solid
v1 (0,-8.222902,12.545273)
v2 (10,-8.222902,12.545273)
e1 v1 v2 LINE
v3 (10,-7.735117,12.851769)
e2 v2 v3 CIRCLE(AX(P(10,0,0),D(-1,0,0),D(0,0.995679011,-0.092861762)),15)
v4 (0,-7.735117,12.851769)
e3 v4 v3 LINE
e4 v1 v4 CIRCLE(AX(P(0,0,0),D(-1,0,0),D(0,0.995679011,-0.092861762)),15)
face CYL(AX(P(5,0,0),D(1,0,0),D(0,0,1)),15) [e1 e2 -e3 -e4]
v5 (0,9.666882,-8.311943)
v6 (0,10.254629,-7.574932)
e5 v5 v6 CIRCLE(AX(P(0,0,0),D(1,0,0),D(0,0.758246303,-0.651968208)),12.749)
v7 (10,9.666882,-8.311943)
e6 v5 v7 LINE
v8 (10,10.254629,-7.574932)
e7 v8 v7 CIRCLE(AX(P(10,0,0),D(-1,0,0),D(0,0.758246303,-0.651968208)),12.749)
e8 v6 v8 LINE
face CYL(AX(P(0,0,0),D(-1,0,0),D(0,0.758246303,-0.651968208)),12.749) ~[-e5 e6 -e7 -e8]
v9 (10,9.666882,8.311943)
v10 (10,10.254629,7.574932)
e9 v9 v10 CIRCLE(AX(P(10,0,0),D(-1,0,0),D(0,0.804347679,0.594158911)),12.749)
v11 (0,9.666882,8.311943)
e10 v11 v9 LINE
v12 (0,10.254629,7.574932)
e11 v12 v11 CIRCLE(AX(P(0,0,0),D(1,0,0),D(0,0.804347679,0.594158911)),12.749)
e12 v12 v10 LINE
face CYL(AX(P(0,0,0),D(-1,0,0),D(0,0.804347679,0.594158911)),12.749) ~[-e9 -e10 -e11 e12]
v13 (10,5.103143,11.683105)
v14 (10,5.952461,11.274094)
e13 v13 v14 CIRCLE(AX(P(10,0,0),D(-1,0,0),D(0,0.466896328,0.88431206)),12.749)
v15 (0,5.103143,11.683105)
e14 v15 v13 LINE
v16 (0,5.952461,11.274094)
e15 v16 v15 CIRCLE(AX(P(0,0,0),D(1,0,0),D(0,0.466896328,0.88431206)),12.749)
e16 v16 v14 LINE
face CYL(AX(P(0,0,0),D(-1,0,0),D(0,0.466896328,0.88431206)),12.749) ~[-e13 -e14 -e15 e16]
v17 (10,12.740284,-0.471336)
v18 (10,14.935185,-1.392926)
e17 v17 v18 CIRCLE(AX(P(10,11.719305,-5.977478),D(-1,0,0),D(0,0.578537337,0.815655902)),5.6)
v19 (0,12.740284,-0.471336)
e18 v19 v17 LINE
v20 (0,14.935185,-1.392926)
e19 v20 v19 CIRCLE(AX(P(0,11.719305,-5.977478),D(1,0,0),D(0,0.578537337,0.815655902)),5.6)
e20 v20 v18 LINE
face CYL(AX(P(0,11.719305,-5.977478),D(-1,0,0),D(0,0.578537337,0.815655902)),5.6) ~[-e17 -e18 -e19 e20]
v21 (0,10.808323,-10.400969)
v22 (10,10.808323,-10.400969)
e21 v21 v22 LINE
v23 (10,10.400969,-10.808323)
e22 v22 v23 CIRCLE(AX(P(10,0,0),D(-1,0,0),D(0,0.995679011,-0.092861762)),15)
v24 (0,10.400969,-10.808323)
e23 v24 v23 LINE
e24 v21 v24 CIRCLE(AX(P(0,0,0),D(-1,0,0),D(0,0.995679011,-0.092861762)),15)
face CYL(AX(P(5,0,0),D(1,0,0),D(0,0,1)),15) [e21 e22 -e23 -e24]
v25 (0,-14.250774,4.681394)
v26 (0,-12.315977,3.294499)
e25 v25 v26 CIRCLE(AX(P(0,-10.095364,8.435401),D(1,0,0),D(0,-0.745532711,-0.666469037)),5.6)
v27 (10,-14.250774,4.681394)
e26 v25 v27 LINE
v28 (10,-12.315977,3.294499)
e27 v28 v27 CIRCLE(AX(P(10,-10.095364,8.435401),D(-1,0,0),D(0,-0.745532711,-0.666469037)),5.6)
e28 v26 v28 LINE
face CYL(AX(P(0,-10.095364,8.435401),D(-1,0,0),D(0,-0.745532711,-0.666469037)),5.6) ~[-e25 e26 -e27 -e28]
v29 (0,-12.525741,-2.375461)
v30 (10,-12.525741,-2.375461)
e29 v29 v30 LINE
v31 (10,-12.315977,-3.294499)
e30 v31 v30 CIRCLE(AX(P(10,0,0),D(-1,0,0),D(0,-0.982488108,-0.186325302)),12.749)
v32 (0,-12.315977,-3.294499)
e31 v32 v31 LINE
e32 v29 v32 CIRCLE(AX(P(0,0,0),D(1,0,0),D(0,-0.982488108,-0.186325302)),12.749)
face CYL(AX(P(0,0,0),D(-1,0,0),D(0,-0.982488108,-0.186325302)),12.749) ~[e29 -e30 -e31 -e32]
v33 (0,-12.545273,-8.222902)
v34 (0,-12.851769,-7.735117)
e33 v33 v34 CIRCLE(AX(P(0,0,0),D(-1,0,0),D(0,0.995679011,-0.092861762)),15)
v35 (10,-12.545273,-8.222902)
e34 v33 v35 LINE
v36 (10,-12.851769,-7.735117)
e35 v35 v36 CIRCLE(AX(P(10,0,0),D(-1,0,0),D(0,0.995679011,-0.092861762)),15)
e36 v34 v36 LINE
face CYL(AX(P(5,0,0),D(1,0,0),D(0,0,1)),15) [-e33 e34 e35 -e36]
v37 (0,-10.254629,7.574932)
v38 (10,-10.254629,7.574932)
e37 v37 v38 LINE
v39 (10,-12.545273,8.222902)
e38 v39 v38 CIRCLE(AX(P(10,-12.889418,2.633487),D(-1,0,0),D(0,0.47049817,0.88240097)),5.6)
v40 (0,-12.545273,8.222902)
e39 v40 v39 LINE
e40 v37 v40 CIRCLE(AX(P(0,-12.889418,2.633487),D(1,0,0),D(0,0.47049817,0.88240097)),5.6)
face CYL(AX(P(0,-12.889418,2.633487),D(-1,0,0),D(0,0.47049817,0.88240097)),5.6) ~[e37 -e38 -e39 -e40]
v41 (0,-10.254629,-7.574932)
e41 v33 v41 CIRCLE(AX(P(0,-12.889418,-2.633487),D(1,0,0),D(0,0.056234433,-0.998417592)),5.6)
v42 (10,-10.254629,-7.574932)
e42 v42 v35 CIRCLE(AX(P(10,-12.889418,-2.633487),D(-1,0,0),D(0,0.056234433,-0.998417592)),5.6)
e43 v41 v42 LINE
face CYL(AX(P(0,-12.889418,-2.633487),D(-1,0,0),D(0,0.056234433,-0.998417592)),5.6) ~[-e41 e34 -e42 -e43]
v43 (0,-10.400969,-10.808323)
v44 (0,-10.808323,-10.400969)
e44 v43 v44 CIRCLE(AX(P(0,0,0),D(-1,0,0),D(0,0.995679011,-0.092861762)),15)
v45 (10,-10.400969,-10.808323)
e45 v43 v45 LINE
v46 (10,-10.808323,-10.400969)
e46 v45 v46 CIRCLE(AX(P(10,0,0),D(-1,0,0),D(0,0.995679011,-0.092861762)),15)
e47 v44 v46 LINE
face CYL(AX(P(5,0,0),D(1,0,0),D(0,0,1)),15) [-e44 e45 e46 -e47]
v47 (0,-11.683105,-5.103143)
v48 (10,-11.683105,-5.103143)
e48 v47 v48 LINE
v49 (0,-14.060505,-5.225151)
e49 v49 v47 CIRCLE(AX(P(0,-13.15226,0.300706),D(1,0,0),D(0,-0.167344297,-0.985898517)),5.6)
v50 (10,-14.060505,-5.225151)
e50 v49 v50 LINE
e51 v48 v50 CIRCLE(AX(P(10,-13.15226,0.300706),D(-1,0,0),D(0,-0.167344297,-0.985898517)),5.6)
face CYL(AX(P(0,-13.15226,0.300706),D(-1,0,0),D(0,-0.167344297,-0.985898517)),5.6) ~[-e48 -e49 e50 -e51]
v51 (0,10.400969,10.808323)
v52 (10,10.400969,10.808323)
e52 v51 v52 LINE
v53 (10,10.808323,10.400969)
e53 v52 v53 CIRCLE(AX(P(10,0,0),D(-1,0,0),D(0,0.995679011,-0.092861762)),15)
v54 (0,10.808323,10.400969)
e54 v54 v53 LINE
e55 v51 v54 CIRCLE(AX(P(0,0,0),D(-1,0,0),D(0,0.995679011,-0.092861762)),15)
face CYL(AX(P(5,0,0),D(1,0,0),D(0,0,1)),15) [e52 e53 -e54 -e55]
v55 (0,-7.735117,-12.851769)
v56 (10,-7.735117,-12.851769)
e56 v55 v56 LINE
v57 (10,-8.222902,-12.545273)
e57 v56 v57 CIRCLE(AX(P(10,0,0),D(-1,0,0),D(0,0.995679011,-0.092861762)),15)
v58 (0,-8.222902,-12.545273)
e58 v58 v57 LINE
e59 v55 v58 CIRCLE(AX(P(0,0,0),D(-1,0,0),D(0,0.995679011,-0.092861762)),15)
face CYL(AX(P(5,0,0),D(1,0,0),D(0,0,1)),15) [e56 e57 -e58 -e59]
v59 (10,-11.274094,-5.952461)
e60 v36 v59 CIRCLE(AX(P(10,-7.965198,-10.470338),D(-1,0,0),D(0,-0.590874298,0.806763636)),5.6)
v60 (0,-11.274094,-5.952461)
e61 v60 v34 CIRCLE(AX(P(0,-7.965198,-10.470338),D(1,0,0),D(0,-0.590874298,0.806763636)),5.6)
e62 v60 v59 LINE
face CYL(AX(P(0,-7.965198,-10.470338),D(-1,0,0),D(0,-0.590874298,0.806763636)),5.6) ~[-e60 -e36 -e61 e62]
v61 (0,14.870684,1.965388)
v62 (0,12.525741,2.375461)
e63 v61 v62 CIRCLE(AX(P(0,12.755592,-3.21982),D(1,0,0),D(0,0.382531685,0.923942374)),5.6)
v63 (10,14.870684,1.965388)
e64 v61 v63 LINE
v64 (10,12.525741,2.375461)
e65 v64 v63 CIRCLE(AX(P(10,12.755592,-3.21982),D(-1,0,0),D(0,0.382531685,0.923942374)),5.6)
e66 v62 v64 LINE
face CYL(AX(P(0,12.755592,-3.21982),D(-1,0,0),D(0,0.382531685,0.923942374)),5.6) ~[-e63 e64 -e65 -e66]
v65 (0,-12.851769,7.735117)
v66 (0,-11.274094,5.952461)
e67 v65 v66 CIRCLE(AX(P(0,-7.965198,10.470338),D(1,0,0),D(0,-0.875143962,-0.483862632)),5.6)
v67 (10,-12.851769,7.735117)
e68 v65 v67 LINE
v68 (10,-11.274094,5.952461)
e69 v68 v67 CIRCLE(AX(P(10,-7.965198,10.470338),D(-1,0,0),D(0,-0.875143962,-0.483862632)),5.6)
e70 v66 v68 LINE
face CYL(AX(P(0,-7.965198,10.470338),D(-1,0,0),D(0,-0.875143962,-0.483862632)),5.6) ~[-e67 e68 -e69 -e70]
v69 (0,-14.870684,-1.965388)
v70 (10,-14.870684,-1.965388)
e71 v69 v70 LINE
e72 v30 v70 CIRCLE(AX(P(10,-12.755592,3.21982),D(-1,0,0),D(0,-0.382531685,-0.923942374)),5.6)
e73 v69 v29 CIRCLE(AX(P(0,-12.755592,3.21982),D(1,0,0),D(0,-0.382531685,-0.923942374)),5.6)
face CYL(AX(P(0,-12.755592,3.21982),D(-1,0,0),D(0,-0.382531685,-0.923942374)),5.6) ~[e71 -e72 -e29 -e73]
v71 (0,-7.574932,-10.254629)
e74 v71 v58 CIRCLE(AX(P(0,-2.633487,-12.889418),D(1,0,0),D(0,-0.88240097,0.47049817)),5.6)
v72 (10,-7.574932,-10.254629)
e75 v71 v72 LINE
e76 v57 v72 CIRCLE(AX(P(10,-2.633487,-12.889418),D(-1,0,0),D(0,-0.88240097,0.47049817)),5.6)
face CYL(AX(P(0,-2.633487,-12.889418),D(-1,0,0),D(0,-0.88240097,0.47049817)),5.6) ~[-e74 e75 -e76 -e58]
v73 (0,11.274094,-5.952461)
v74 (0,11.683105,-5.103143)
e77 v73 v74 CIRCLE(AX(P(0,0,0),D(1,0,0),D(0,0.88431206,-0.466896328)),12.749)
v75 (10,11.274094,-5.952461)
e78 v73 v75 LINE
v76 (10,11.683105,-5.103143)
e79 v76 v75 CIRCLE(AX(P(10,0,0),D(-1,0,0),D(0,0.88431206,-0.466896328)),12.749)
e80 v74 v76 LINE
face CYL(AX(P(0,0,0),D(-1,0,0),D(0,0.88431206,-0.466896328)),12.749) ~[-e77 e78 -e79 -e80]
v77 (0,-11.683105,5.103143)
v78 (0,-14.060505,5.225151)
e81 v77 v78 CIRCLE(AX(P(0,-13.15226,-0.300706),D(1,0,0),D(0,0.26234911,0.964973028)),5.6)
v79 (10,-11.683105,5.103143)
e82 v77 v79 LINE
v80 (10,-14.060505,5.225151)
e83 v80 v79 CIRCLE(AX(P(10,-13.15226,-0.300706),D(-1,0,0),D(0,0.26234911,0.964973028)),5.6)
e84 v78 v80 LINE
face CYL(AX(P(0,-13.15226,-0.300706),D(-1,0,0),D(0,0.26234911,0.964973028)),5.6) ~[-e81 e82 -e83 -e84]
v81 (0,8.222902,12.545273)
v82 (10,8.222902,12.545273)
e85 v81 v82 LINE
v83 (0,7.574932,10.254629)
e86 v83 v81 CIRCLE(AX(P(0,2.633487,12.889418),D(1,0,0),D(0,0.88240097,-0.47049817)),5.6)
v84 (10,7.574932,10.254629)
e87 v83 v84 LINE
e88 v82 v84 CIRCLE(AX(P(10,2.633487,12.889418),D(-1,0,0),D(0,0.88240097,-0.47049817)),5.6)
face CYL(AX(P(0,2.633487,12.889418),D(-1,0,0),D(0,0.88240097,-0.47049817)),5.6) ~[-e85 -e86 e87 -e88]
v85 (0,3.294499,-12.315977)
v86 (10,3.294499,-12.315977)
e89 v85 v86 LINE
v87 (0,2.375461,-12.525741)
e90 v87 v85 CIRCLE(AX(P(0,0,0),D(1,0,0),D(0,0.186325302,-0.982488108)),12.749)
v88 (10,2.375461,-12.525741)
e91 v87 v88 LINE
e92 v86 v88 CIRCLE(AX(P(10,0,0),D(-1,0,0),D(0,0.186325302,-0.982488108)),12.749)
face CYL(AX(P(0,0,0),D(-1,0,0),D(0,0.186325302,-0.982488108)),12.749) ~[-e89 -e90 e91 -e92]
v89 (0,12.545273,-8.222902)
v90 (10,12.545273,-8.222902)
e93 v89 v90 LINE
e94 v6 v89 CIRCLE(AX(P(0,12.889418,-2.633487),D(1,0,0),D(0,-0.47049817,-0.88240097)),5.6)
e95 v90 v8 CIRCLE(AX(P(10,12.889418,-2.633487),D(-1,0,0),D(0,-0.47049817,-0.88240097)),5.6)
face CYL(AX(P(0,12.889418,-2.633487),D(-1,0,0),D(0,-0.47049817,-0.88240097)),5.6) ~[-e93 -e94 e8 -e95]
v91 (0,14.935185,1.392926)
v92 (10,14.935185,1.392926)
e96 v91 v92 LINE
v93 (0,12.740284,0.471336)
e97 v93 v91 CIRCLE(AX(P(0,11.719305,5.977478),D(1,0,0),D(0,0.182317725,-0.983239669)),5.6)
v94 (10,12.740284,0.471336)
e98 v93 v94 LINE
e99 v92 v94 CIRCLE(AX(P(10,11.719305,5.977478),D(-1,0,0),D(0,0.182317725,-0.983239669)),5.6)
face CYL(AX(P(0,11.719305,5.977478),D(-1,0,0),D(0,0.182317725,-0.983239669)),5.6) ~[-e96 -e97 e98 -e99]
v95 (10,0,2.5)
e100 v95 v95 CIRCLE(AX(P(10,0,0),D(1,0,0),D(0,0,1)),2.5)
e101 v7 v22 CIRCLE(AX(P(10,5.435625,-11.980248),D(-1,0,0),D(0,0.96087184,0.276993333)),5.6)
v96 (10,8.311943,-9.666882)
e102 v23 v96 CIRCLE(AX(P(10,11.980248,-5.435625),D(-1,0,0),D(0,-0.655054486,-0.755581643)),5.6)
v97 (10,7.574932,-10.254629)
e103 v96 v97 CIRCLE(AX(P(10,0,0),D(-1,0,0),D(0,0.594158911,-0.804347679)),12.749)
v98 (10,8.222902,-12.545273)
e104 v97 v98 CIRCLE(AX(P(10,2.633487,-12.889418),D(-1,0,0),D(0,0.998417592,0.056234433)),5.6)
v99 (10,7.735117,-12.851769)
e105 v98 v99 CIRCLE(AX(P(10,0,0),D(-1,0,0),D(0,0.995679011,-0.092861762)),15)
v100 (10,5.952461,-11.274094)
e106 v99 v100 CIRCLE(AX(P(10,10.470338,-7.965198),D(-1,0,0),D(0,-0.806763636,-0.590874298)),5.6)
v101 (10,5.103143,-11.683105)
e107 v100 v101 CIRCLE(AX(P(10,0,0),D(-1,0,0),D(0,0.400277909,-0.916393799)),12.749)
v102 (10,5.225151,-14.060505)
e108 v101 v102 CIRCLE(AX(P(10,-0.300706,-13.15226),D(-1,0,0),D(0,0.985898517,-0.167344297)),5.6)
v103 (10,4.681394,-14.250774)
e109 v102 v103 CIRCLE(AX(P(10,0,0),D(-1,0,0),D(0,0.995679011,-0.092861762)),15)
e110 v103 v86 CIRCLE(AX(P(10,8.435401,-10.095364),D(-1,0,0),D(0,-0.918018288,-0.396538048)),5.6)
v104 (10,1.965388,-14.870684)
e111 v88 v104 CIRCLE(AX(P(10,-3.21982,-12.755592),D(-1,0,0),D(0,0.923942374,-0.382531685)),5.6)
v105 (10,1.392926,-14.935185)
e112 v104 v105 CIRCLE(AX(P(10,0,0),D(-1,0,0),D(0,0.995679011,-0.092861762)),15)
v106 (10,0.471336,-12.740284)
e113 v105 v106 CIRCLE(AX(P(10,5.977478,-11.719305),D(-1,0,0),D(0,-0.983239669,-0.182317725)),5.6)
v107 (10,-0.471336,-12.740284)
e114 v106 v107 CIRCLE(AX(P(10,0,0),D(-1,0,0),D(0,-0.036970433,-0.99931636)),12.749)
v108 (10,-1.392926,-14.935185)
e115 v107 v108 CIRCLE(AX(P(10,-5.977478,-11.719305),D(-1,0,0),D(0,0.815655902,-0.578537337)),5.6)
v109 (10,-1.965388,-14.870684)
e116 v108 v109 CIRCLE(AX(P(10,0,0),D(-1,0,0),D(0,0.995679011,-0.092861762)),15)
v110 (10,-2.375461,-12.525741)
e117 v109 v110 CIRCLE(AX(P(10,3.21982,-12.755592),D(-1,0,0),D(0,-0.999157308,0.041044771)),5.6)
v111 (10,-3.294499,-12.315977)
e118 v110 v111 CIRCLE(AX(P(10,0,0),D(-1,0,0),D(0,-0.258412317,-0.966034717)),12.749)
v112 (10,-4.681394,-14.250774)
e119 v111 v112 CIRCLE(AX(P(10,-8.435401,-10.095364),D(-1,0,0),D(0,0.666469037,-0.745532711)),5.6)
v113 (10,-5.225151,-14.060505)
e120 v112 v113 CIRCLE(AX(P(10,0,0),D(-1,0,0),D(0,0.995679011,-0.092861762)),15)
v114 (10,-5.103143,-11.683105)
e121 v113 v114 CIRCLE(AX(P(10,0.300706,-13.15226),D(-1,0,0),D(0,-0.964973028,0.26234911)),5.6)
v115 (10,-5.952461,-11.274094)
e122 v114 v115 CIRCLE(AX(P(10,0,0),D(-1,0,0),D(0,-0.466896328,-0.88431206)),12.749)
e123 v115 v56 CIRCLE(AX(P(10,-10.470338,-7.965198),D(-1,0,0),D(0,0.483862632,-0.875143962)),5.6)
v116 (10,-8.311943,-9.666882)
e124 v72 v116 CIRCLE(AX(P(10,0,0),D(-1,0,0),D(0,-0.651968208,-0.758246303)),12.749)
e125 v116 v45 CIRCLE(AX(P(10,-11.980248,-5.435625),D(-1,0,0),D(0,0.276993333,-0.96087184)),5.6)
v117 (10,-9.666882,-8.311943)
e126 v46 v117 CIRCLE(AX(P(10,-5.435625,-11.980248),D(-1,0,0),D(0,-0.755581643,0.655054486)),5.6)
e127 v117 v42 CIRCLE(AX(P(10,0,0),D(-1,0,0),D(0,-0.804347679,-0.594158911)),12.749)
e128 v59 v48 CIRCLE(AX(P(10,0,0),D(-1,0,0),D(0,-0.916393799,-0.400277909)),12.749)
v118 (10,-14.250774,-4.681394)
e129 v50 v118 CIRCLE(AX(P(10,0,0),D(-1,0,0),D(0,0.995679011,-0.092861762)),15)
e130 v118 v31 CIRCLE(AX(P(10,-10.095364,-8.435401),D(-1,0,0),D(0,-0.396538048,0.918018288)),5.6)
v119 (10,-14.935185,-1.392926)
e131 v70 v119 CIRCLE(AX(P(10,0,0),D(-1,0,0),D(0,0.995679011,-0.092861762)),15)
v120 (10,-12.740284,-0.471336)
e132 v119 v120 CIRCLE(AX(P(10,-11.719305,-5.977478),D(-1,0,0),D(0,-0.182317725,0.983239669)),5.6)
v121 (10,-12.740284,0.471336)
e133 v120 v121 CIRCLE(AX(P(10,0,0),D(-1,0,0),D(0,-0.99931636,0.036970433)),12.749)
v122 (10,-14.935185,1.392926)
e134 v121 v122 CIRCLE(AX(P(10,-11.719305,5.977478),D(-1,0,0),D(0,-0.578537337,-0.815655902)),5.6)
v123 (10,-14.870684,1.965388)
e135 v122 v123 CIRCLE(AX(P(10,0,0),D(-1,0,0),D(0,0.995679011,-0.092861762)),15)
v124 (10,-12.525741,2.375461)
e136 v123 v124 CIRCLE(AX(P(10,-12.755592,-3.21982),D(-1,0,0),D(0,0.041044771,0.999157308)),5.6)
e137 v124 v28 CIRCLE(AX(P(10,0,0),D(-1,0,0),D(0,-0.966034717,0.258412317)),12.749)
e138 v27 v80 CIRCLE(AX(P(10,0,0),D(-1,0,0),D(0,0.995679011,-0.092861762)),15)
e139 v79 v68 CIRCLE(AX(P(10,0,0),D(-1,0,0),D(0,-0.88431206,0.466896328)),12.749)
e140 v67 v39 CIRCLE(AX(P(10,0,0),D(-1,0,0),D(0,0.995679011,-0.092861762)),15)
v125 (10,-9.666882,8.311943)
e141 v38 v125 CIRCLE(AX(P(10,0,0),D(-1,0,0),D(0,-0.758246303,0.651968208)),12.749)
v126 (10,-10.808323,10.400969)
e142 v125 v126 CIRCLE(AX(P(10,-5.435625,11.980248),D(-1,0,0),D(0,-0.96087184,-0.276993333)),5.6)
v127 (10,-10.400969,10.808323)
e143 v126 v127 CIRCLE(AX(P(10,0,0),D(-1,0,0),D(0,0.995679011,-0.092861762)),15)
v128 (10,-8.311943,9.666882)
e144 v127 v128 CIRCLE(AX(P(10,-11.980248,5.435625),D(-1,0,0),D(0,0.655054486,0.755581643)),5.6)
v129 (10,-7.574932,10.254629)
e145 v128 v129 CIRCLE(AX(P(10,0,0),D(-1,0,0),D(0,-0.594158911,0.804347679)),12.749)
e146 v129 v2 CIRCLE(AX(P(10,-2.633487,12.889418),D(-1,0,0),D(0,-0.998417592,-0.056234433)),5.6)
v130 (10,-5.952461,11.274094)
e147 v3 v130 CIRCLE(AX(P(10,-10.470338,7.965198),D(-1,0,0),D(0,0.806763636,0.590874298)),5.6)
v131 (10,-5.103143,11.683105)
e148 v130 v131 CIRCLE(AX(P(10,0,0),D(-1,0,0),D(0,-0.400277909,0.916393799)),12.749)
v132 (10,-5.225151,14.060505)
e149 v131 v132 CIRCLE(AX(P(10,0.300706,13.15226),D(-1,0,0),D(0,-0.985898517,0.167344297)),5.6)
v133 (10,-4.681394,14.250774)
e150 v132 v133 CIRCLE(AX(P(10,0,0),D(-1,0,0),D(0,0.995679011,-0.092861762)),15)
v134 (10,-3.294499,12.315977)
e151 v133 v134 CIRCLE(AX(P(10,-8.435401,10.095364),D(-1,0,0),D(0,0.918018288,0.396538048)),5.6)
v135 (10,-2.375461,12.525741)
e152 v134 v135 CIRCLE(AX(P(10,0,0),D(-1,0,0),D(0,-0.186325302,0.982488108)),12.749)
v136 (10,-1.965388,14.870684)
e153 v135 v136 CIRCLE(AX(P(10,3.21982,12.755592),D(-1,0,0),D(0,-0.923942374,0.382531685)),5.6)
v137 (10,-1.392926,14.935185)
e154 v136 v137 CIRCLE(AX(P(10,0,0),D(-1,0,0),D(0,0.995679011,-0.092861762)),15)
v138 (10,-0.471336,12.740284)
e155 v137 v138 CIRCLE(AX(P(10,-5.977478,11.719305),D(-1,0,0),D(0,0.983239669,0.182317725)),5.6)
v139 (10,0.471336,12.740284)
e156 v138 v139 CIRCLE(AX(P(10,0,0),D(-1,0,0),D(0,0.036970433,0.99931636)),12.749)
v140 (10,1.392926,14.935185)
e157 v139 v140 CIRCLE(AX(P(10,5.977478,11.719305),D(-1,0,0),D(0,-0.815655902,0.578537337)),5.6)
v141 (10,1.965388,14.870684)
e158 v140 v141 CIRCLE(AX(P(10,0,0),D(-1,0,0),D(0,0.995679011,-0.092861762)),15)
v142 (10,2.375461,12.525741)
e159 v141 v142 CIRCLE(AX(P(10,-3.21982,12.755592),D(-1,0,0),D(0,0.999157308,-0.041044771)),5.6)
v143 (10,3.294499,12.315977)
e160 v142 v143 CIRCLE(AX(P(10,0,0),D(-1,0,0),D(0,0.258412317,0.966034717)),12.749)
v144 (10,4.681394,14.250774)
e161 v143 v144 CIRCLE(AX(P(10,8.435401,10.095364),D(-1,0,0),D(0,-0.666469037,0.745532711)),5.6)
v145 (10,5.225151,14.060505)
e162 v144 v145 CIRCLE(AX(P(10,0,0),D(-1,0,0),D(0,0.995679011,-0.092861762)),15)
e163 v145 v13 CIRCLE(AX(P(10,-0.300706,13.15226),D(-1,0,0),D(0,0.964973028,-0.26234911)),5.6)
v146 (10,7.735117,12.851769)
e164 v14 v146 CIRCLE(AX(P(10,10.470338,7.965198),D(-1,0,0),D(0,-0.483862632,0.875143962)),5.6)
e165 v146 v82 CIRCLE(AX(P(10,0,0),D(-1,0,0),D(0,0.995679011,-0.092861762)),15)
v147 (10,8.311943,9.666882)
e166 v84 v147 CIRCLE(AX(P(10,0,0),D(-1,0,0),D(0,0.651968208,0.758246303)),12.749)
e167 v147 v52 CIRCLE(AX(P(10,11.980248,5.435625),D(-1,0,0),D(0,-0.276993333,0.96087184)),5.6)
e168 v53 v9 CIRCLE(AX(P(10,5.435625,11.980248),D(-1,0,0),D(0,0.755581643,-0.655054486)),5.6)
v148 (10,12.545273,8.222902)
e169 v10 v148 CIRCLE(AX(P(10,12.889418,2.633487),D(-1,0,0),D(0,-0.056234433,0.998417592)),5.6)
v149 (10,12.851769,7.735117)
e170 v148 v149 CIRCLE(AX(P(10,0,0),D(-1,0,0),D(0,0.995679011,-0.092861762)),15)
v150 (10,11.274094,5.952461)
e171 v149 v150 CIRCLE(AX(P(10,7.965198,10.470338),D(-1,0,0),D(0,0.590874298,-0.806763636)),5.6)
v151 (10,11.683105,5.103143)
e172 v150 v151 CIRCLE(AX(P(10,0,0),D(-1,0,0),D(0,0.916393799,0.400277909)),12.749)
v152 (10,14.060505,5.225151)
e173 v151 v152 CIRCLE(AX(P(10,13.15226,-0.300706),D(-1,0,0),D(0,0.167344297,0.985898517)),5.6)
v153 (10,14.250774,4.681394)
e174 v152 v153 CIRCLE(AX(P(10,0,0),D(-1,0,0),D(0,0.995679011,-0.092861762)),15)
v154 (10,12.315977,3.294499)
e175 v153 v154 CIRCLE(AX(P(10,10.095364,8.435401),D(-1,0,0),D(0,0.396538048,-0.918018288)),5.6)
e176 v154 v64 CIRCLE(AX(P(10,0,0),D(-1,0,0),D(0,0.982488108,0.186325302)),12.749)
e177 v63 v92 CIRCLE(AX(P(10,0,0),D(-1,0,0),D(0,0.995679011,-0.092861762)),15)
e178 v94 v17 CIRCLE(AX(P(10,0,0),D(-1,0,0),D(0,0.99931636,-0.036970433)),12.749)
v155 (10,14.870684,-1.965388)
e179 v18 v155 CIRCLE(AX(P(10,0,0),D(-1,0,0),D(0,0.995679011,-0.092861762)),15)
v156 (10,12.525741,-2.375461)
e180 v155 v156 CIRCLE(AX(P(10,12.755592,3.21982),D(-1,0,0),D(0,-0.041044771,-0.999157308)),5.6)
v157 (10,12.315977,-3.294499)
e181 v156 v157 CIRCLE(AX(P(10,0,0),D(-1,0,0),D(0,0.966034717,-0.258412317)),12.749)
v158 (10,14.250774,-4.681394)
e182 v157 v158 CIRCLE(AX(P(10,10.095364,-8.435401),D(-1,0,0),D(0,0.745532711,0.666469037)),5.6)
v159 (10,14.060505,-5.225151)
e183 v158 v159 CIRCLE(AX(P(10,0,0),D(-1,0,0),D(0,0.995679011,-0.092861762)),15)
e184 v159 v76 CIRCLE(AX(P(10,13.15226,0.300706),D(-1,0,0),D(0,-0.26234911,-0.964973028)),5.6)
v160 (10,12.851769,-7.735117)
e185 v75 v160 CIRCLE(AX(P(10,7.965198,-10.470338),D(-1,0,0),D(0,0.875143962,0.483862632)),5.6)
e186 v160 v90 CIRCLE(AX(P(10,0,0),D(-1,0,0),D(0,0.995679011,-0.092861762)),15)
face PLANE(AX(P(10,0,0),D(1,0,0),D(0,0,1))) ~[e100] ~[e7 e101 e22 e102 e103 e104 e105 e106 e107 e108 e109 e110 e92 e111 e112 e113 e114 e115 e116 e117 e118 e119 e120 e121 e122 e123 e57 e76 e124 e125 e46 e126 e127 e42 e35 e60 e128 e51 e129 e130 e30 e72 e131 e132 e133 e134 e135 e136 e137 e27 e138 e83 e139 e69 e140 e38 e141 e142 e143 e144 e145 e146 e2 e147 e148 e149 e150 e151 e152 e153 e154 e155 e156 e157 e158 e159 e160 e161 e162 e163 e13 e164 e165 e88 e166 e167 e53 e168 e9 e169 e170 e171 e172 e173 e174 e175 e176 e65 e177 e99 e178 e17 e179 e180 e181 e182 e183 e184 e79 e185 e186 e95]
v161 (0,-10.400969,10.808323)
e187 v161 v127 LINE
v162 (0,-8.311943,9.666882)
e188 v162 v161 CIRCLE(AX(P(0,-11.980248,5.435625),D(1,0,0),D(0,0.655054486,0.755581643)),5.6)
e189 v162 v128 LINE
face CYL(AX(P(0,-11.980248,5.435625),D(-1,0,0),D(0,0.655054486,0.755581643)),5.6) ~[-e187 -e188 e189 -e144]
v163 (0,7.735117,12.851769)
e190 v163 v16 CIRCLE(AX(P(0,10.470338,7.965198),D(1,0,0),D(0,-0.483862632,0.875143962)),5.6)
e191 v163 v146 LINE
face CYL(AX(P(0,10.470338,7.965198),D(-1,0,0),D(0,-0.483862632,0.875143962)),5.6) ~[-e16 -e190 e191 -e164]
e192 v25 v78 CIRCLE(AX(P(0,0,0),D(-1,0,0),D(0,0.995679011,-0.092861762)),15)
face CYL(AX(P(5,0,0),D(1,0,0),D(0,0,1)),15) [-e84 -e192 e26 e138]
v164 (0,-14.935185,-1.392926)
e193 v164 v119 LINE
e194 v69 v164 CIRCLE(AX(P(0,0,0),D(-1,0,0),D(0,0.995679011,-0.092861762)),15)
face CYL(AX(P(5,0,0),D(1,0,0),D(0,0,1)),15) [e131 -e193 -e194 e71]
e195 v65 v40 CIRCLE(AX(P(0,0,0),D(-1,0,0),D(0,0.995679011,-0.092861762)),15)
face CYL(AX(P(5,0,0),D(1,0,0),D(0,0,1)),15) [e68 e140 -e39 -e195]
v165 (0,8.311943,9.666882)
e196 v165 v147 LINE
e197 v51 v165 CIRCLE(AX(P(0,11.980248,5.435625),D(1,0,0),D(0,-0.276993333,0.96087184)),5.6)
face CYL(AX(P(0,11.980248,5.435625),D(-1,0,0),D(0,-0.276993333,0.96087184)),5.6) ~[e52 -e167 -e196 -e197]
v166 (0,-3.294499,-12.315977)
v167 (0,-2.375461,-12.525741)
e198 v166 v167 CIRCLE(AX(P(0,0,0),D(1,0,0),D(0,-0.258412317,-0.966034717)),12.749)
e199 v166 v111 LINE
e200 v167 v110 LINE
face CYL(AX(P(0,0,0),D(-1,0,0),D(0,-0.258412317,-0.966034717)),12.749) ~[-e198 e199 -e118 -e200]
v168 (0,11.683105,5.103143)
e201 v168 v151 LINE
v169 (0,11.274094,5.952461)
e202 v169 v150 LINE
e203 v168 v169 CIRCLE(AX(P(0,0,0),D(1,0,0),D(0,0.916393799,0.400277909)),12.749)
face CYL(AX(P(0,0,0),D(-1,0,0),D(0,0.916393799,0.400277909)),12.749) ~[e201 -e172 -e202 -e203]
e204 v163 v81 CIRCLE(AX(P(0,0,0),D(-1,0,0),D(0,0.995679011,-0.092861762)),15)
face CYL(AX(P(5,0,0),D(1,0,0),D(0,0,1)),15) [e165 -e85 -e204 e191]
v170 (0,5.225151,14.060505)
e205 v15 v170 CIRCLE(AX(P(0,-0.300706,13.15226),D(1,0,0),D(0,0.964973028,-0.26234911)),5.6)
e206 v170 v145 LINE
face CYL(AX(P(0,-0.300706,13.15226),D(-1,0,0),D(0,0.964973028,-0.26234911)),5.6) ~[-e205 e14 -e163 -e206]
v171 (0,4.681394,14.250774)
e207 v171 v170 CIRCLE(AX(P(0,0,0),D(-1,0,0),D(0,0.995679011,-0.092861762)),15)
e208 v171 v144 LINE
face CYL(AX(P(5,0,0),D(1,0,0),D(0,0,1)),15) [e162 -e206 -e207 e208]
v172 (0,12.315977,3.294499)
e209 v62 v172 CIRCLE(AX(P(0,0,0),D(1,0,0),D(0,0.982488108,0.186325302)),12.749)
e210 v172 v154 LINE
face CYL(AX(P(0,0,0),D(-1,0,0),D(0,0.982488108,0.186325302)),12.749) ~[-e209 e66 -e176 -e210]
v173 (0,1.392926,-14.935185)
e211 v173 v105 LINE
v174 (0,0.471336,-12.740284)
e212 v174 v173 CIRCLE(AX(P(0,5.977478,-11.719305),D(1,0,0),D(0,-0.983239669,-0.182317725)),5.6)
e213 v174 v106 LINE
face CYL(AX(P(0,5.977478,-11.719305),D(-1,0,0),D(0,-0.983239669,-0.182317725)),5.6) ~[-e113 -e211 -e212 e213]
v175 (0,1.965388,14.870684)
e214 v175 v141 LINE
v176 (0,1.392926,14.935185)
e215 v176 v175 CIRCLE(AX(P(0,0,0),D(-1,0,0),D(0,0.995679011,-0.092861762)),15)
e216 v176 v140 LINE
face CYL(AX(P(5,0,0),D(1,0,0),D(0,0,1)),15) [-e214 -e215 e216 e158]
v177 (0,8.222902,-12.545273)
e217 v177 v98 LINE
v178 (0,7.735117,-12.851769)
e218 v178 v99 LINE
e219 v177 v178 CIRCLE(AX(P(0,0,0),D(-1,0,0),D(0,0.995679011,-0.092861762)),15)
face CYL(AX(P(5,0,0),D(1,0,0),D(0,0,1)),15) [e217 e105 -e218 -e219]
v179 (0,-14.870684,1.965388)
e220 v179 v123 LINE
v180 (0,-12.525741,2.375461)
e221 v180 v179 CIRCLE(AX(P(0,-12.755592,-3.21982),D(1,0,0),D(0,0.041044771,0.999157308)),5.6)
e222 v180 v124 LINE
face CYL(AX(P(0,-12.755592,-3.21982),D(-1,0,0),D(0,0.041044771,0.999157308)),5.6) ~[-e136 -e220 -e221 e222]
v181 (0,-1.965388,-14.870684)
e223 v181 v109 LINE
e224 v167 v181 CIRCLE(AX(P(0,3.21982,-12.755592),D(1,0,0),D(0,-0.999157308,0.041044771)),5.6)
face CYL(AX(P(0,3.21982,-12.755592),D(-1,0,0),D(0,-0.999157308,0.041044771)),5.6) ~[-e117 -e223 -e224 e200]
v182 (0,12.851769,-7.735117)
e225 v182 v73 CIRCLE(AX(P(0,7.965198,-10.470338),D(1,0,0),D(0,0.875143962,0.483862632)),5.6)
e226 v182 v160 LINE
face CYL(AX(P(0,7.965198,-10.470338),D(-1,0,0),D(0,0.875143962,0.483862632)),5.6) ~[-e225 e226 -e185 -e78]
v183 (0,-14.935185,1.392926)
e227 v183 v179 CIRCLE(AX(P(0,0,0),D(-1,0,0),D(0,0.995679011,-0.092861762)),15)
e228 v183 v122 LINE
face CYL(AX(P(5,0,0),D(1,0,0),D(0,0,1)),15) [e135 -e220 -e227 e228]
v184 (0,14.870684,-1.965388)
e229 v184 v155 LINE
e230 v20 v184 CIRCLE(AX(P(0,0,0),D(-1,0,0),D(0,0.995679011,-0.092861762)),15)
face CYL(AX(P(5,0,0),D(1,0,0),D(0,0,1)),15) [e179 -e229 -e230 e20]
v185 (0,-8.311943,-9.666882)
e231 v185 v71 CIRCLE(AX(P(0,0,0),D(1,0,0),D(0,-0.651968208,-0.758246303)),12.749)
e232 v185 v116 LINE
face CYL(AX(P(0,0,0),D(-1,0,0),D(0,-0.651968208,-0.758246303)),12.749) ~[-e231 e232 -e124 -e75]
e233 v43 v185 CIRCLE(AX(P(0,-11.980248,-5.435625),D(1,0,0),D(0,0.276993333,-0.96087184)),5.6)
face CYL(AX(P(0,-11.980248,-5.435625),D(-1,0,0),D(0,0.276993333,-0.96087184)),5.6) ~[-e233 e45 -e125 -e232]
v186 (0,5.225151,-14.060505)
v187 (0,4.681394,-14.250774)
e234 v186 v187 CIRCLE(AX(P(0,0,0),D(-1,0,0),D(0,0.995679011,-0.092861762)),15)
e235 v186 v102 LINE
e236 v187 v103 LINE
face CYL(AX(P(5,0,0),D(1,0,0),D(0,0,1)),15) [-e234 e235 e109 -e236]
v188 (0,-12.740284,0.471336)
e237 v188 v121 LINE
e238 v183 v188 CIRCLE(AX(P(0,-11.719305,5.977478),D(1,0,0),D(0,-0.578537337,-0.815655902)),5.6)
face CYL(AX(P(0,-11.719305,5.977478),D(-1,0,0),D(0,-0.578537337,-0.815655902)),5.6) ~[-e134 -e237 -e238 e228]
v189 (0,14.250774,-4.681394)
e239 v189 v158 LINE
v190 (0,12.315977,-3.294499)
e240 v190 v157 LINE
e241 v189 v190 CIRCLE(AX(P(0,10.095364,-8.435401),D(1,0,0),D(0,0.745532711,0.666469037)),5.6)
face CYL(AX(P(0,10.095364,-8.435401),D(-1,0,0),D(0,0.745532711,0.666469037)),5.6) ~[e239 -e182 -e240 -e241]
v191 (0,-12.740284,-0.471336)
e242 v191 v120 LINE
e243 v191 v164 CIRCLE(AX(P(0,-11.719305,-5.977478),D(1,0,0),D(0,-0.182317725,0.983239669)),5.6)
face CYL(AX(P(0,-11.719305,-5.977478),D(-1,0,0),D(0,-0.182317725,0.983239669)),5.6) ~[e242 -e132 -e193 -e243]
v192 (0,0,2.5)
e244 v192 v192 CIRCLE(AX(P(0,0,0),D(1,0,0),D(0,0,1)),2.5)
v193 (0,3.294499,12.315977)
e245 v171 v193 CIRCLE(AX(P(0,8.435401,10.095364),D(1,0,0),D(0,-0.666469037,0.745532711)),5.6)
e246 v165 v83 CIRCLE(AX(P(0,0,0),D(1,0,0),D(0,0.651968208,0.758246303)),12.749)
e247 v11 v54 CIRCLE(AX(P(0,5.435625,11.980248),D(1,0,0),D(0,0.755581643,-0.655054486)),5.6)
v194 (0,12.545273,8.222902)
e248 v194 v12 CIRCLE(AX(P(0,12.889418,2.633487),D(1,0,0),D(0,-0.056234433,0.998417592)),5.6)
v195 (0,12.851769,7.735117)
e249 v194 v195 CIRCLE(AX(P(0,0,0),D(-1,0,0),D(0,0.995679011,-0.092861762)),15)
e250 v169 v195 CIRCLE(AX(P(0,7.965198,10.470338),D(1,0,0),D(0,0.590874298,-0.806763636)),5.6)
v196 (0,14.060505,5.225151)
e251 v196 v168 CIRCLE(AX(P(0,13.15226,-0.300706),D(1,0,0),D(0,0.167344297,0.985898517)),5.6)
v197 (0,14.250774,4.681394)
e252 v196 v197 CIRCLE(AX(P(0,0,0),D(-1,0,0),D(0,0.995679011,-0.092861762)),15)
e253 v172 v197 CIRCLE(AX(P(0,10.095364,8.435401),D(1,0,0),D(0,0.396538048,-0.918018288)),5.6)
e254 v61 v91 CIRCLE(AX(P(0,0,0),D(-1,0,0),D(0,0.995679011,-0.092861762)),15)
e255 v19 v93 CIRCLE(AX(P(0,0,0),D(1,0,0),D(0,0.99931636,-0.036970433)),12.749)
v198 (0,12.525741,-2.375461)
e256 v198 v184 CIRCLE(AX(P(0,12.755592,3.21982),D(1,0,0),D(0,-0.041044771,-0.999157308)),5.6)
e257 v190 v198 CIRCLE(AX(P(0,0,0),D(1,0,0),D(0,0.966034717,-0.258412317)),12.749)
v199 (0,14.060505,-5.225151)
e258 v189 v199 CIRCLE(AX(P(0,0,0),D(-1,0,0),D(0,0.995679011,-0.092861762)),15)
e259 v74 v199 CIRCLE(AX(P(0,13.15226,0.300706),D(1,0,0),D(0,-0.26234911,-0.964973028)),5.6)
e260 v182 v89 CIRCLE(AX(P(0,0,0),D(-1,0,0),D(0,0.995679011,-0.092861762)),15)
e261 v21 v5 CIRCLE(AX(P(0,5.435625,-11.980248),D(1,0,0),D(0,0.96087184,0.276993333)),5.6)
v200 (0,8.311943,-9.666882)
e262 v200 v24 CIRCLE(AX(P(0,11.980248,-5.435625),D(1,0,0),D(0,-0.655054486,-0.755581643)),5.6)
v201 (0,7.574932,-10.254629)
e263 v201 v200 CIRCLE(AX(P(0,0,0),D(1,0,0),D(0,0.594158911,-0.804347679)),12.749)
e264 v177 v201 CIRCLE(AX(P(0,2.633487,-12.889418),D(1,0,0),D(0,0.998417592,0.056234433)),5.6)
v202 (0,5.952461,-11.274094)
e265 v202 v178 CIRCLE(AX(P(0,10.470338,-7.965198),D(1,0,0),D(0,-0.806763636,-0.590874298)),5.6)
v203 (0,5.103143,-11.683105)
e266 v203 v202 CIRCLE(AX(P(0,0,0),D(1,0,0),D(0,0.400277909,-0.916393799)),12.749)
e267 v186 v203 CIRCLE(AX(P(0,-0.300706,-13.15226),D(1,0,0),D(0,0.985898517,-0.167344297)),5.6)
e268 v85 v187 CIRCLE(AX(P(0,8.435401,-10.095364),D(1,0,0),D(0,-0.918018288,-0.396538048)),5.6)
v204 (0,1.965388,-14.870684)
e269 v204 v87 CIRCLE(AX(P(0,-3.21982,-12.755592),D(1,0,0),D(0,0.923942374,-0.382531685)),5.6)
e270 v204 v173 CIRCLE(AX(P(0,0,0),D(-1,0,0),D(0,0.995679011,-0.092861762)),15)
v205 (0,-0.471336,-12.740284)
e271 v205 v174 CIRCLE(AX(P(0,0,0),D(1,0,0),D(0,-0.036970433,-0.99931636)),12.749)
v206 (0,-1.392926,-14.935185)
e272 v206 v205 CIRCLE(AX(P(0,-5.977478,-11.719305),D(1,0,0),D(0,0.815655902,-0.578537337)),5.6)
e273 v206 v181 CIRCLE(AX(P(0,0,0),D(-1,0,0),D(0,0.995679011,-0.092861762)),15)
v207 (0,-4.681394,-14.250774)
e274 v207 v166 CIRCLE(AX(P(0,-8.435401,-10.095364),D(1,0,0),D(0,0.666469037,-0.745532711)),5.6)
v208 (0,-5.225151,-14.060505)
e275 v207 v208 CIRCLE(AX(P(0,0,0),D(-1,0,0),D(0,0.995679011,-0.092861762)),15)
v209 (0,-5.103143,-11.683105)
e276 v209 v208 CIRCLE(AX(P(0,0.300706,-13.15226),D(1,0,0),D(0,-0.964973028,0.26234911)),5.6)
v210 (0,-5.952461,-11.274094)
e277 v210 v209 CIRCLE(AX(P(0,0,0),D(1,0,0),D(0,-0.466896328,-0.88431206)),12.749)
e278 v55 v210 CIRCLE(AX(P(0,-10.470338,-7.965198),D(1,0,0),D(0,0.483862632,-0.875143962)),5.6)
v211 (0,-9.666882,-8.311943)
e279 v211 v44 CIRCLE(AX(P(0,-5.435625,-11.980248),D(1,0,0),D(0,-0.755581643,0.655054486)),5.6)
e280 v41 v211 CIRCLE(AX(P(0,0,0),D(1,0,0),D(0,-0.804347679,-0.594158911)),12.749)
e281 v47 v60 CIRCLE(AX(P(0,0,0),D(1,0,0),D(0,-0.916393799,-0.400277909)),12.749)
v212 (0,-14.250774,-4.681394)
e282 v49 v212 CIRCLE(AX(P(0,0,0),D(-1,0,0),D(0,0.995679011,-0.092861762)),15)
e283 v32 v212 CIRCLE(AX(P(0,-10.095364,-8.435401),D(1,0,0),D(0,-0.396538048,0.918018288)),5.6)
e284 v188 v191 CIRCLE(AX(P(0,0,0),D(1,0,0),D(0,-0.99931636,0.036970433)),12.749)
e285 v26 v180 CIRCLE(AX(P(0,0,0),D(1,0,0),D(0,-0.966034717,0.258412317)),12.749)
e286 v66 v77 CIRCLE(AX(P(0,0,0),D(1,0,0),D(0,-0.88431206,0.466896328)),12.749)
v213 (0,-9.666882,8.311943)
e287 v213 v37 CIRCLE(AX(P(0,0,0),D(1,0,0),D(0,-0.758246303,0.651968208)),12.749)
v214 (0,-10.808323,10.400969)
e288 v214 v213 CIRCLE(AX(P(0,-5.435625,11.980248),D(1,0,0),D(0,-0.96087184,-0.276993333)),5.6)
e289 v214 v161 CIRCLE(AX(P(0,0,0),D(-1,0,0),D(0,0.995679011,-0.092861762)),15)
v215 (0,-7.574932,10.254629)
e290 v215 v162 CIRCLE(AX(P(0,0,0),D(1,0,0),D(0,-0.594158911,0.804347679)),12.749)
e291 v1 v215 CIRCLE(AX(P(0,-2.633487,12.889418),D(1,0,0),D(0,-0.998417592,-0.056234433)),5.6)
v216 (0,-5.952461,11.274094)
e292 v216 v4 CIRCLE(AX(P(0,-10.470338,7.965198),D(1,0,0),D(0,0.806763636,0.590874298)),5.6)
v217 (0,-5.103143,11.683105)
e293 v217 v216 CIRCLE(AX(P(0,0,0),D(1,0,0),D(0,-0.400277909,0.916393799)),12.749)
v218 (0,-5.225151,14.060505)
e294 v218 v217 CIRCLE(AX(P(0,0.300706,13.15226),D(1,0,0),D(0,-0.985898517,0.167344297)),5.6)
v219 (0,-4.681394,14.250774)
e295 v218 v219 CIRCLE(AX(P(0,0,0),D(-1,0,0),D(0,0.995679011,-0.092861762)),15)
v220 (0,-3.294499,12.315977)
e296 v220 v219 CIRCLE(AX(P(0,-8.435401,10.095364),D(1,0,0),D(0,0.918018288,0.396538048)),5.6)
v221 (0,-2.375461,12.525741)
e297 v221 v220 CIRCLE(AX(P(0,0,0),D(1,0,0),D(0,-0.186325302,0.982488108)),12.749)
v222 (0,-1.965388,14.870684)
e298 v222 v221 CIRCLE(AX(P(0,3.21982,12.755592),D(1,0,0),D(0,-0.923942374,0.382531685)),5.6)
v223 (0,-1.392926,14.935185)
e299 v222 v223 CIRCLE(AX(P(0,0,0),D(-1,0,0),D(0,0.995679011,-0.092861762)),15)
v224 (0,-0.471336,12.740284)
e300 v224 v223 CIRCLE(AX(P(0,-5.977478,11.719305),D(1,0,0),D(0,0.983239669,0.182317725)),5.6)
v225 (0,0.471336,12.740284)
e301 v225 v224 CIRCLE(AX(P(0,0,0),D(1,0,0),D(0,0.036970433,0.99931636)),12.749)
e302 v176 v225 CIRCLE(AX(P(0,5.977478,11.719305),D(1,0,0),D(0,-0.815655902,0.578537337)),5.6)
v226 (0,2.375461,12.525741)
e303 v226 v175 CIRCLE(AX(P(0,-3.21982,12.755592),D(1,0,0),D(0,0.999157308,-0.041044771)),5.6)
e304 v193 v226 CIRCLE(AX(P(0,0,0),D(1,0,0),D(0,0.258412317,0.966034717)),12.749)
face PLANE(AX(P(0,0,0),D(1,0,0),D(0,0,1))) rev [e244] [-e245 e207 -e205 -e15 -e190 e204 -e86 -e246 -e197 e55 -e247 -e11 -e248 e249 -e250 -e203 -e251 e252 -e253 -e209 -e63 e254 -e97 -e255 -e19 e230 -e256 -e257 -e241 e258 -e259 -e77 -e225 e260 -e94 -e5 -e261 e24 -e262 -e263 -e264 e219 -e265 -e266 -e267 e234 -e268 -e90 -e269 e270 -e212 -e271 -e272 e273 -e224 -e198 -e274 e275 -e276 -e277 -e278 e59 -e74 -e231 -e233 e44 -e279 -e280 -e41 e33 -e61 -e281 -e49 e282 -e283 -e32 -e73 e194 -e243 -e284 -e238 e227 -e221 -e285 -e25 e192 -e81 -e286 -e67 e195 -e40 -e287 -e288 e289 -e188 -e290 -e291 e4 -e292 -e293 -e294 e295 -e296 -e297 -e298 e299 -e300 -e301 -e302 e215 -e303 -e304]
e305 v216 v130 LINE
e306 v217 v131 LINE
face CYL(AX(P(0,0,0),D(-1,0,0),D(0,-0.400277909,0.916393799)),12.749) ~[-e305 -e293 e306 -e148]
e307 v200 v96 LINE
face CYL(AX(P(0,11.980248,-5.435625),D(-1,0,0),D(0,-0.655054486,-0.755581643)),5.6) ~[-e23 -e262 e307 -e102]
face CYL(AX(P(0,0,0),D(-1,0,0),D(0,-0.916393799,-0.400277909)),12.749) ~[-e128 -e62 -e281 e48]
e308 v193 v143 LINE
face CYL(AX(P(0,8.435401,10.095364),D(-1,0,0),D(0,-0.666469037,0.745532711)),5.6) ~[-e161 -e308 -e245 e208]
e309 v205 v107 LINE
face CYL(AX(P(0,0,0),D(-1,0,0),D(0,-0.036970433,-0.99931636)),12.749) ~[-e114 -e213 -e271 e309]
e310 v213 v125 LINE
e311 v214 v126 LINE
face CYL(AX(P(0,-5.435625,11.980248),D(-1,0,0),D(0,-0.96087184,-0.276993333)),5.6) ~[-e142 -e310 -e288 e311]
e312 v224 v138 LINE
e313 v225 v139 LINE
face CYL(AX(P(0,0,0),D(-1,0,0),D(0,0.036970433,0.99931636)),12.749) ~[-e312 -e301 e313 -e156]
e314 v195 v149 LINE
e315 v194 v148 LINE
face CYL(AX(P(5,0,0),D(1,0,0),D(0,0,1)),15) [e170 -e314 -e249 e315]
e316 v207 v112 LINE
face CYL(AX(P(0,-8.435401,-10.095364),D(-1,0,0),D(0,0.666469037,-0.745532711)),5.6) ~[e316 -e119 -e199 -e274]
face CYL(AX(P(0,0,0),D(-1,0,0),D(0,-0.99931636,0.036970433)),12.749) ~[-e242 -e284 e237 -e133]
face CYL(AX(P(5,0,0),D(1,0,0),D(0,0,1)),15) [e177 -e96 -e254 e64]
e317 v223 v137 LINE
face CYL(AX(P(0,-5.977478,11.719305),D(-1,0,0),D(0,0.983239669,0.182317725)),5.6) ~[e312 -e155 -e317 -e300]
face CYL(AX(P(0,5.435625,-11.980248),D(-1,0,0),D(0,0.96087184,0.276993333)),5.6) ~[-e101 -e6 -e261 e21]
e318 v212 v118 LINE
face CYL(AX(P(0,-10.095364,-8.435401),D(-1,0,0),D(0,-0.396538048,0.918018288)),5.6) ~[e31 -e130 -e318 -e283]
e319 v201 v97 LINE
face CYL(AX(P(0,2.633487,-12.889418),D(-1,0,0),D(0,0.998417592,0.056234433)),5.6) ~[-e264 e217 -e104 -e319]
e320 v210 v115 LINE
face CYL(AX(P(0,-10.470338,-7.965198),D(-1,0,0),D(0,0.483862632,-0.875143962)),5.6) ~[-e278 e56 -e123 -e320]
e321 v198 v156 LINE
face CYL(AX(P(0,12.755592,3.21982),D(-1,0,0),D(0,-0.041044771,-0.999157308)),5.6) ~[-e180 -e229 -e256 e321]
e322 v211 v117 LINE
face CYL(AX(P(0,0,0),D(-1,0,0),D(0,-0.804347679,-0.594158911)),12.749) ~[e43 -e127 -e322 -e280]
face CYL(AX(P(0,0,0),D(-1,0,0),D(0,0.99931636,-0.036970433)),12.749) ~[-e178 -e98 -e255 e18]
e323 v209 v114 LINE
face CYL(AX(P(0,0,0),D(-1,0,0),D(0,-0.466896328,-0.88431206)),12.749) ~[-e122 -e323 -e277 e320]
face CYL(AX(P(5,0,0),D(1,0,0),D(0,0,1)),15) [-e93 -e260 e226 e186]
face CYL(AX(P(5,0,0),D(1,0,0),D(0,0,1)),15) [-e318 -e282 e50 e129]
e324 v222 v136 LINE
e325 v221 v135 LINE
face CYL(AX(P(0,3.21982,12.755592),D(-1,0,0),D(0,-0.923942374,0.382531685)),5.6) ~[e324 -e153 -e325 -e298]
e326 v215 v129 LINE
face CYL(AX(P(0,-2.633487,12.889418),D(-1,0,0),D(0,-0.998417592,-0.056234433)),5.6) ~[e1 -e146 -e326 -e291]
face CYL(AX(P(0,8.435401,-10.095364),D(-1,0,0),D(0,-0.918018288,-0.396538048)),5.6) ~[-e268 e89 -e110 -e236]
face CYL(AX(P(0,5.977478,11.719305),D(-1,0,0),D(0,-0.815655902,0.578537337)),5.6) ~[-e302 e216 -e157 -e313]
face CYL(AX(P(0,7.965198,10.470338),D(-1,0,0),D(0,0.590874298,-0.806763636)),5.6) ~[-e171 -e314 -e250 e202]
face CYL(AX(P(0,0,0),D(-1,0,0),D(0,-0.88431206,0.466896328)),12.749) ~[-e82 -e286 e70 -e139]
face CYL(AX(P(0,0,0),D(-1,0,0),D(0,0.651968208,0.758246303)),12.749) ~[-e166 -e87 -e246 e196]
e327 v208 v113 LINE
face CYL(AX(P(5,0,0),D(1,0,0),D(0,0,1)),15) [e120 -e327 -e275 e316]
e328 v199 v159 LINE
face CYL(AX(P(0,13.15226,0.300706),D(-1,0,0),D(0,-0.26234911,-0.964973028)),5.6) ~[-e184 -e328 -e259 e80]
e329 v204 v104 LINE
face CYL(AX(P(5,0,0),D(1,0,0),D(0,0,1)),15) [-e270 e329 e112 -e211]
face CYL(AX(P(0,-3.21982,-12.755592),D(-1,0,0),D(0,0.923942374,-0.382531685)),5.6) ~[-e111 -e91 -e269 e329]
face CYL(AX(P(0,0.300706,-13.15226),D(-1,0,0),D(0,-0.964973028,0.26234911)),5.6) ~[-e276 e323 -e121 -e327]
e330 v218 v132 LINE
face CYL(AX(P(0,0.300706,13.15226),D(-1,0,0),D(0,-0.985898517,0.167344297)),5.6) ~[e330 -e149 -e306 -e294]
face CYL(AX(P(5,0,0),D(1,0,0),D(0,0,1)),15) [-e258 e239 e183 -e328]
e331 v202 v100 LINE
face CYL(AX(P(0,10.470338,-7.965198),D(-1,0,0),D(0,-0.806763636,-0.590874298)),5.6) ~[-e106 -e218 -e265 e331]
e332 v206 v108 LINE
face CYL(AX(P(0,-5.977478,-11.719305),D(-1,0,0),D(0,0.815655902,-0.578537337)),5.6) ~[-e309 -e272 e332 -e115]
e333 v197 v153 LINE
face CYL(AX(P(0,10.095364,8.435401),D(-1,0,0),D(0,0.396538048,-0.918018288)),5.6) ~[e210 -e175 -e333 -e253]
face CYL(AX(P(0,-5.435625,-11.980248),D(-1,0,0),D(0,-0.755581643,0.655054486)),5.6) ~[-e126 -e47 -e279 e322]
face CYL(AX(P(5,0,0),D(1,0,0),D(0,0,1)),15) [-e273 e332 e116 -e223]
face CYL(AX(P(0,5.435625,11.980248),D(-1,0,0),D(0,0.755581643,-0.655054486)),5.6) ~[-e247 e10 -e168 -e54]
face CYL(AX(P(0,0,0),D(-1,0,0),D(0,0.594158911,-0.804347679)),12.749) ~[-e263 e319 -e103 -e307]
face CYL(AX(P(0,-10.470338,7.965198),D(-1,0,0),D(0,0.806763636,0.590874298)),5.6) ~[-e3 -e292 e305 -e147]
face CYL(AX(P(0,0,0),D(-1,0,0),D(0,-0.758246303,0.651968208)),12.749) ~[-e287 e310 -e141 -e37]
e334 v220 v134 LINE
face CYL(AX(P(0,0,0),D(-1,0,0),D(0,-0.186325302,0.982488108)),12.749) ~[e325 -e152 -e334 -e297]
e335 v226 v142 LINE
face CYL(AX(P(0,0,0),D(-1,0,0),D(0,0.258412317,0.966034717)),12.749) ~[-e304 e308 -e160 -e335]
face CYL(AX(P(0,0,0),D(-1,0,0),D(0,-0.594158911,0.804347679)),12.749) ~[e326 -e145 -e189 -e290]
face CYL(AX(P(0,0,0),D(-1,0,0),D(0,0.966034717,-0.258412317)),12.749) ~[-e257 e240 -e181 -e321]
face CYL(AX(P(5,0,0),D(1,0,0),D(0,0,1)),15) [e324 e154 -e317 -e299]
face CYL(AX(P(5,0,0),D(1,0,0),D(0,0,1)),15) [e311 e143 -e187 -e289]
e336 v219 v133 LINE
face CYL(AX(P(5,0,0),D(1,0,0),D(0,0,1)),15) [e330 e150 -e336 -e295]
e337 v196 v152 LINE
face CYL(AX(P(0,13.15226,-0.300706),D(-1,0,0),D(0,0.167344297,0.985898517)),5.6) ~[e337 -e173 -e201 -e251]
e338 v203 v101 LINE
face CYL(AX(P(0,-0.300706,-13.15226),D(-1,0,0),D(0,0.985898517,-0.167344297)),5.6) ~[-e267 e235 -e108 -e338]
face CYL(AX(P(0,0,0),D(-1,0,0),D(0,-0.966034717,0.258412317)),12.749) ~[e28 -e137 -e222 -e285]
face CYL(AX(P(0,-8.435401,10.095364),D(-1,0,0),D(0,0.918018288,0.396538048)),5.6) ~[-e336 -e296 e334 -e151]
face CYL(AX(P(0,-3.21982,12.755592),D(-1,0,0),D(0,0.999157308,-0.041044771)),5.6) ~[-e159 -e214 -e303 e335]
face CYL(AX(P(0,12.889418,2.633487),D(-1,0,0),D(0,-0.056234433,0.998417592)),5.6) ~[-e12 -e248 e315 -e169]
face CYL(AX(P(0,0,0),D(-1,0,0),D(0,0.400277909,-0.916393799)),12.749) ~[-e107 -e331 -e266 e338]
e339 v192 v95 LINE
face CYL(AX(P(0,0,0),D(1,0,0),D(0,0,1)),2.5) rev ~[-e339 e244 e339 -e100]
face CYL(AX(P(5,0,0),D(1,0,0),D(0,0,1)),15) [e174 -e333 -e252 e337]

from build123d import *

# Parameters (mm, degrees)
BASPROSKE_W     = 10
BASPROSKE_H     = 15
TOOTHCUT_DEPTH  = 24.452078799
TEETHCUTS_COUNT = 28
TEETHCUTS_ANGLE = 347.142857143
BORSKE_R        = 2.5
BORE_DEPTH      = 50.0000508


with BuildPart() as part:
    # BasProSke → Base-Revolve (revolve)
    with BuildSketch(Plane(origin=(0, 0, 0), x_dir=(1, 0, 0), z_dir=(0, 1, 0)), mode=Mode.PRIVATE) as base_revolve_sk:
        with Locations((5, 7.5)):
            Rectangle(BASPROSKE_W, BASPROSKE_H)
    revolve(base_revolve_sk.sketch.rotate(Axis((-10, 0, 0), (1, 0, 0)), 180), axis=Axis((-10, 0, 0), (1, 0, 0)))

    # TooCutSke → ToothCut (cut, through all)
    with BuildSketch(Plane(origin=(0, 0, 0), x_dir=(0, 0, -1), z_dir=(1, 0, 0))):
        with BuildLine():
            ThreePointArc((0.471336039, 12.740284272), (0, 12.749), (-0.471336039, 12.740284272))
            ThreePointArc((-0.471336039, 12.740284272), (-0.81983923, 13.900763331), (-1.409805137, 14.959114099))
            ThreePointArc((-1.409805137, 14.959114099), (0, 15.0254), (1.409805137, 14.959114099))
            ThreePointArc((1.409805137, 14.959114099), (0.81983923, 13.900763331), (0.471336039, 12.740284272))
        make_face()
    toothcut = extrude(amount=TOOTHCUT_DEPTH, mode=Mode.SUBTRACT)

    # TeethCuts: ToothCut ×28 about axis
    teethcuts_axis = Axis((-10, 0, 0), (1, 0, 0))
    for i in range(1, TEETHCUTS_COUNT):
        add(toothcut.rotate(teethcuts_axis, i * TEETHCUTS_ANGLE / (TEETHCUTS_COUNT - 1)), mode=Mode.SUBTRACT)

    # BorSke → Bore (cut, symmetric)
    with BuildSketch(Plane(origin=(0, 0, 0), x_dir=(0, 0, -1), z_dir=(1, 0, 0))):
        with Locations(Location((0, 0, 0), (0, 0, 180))):
            Circle(BORSKE_R)
    extrude(amount=BORE_DEPTH, both=True, mode=Mode.SUBTRACT)


solid = part.part
